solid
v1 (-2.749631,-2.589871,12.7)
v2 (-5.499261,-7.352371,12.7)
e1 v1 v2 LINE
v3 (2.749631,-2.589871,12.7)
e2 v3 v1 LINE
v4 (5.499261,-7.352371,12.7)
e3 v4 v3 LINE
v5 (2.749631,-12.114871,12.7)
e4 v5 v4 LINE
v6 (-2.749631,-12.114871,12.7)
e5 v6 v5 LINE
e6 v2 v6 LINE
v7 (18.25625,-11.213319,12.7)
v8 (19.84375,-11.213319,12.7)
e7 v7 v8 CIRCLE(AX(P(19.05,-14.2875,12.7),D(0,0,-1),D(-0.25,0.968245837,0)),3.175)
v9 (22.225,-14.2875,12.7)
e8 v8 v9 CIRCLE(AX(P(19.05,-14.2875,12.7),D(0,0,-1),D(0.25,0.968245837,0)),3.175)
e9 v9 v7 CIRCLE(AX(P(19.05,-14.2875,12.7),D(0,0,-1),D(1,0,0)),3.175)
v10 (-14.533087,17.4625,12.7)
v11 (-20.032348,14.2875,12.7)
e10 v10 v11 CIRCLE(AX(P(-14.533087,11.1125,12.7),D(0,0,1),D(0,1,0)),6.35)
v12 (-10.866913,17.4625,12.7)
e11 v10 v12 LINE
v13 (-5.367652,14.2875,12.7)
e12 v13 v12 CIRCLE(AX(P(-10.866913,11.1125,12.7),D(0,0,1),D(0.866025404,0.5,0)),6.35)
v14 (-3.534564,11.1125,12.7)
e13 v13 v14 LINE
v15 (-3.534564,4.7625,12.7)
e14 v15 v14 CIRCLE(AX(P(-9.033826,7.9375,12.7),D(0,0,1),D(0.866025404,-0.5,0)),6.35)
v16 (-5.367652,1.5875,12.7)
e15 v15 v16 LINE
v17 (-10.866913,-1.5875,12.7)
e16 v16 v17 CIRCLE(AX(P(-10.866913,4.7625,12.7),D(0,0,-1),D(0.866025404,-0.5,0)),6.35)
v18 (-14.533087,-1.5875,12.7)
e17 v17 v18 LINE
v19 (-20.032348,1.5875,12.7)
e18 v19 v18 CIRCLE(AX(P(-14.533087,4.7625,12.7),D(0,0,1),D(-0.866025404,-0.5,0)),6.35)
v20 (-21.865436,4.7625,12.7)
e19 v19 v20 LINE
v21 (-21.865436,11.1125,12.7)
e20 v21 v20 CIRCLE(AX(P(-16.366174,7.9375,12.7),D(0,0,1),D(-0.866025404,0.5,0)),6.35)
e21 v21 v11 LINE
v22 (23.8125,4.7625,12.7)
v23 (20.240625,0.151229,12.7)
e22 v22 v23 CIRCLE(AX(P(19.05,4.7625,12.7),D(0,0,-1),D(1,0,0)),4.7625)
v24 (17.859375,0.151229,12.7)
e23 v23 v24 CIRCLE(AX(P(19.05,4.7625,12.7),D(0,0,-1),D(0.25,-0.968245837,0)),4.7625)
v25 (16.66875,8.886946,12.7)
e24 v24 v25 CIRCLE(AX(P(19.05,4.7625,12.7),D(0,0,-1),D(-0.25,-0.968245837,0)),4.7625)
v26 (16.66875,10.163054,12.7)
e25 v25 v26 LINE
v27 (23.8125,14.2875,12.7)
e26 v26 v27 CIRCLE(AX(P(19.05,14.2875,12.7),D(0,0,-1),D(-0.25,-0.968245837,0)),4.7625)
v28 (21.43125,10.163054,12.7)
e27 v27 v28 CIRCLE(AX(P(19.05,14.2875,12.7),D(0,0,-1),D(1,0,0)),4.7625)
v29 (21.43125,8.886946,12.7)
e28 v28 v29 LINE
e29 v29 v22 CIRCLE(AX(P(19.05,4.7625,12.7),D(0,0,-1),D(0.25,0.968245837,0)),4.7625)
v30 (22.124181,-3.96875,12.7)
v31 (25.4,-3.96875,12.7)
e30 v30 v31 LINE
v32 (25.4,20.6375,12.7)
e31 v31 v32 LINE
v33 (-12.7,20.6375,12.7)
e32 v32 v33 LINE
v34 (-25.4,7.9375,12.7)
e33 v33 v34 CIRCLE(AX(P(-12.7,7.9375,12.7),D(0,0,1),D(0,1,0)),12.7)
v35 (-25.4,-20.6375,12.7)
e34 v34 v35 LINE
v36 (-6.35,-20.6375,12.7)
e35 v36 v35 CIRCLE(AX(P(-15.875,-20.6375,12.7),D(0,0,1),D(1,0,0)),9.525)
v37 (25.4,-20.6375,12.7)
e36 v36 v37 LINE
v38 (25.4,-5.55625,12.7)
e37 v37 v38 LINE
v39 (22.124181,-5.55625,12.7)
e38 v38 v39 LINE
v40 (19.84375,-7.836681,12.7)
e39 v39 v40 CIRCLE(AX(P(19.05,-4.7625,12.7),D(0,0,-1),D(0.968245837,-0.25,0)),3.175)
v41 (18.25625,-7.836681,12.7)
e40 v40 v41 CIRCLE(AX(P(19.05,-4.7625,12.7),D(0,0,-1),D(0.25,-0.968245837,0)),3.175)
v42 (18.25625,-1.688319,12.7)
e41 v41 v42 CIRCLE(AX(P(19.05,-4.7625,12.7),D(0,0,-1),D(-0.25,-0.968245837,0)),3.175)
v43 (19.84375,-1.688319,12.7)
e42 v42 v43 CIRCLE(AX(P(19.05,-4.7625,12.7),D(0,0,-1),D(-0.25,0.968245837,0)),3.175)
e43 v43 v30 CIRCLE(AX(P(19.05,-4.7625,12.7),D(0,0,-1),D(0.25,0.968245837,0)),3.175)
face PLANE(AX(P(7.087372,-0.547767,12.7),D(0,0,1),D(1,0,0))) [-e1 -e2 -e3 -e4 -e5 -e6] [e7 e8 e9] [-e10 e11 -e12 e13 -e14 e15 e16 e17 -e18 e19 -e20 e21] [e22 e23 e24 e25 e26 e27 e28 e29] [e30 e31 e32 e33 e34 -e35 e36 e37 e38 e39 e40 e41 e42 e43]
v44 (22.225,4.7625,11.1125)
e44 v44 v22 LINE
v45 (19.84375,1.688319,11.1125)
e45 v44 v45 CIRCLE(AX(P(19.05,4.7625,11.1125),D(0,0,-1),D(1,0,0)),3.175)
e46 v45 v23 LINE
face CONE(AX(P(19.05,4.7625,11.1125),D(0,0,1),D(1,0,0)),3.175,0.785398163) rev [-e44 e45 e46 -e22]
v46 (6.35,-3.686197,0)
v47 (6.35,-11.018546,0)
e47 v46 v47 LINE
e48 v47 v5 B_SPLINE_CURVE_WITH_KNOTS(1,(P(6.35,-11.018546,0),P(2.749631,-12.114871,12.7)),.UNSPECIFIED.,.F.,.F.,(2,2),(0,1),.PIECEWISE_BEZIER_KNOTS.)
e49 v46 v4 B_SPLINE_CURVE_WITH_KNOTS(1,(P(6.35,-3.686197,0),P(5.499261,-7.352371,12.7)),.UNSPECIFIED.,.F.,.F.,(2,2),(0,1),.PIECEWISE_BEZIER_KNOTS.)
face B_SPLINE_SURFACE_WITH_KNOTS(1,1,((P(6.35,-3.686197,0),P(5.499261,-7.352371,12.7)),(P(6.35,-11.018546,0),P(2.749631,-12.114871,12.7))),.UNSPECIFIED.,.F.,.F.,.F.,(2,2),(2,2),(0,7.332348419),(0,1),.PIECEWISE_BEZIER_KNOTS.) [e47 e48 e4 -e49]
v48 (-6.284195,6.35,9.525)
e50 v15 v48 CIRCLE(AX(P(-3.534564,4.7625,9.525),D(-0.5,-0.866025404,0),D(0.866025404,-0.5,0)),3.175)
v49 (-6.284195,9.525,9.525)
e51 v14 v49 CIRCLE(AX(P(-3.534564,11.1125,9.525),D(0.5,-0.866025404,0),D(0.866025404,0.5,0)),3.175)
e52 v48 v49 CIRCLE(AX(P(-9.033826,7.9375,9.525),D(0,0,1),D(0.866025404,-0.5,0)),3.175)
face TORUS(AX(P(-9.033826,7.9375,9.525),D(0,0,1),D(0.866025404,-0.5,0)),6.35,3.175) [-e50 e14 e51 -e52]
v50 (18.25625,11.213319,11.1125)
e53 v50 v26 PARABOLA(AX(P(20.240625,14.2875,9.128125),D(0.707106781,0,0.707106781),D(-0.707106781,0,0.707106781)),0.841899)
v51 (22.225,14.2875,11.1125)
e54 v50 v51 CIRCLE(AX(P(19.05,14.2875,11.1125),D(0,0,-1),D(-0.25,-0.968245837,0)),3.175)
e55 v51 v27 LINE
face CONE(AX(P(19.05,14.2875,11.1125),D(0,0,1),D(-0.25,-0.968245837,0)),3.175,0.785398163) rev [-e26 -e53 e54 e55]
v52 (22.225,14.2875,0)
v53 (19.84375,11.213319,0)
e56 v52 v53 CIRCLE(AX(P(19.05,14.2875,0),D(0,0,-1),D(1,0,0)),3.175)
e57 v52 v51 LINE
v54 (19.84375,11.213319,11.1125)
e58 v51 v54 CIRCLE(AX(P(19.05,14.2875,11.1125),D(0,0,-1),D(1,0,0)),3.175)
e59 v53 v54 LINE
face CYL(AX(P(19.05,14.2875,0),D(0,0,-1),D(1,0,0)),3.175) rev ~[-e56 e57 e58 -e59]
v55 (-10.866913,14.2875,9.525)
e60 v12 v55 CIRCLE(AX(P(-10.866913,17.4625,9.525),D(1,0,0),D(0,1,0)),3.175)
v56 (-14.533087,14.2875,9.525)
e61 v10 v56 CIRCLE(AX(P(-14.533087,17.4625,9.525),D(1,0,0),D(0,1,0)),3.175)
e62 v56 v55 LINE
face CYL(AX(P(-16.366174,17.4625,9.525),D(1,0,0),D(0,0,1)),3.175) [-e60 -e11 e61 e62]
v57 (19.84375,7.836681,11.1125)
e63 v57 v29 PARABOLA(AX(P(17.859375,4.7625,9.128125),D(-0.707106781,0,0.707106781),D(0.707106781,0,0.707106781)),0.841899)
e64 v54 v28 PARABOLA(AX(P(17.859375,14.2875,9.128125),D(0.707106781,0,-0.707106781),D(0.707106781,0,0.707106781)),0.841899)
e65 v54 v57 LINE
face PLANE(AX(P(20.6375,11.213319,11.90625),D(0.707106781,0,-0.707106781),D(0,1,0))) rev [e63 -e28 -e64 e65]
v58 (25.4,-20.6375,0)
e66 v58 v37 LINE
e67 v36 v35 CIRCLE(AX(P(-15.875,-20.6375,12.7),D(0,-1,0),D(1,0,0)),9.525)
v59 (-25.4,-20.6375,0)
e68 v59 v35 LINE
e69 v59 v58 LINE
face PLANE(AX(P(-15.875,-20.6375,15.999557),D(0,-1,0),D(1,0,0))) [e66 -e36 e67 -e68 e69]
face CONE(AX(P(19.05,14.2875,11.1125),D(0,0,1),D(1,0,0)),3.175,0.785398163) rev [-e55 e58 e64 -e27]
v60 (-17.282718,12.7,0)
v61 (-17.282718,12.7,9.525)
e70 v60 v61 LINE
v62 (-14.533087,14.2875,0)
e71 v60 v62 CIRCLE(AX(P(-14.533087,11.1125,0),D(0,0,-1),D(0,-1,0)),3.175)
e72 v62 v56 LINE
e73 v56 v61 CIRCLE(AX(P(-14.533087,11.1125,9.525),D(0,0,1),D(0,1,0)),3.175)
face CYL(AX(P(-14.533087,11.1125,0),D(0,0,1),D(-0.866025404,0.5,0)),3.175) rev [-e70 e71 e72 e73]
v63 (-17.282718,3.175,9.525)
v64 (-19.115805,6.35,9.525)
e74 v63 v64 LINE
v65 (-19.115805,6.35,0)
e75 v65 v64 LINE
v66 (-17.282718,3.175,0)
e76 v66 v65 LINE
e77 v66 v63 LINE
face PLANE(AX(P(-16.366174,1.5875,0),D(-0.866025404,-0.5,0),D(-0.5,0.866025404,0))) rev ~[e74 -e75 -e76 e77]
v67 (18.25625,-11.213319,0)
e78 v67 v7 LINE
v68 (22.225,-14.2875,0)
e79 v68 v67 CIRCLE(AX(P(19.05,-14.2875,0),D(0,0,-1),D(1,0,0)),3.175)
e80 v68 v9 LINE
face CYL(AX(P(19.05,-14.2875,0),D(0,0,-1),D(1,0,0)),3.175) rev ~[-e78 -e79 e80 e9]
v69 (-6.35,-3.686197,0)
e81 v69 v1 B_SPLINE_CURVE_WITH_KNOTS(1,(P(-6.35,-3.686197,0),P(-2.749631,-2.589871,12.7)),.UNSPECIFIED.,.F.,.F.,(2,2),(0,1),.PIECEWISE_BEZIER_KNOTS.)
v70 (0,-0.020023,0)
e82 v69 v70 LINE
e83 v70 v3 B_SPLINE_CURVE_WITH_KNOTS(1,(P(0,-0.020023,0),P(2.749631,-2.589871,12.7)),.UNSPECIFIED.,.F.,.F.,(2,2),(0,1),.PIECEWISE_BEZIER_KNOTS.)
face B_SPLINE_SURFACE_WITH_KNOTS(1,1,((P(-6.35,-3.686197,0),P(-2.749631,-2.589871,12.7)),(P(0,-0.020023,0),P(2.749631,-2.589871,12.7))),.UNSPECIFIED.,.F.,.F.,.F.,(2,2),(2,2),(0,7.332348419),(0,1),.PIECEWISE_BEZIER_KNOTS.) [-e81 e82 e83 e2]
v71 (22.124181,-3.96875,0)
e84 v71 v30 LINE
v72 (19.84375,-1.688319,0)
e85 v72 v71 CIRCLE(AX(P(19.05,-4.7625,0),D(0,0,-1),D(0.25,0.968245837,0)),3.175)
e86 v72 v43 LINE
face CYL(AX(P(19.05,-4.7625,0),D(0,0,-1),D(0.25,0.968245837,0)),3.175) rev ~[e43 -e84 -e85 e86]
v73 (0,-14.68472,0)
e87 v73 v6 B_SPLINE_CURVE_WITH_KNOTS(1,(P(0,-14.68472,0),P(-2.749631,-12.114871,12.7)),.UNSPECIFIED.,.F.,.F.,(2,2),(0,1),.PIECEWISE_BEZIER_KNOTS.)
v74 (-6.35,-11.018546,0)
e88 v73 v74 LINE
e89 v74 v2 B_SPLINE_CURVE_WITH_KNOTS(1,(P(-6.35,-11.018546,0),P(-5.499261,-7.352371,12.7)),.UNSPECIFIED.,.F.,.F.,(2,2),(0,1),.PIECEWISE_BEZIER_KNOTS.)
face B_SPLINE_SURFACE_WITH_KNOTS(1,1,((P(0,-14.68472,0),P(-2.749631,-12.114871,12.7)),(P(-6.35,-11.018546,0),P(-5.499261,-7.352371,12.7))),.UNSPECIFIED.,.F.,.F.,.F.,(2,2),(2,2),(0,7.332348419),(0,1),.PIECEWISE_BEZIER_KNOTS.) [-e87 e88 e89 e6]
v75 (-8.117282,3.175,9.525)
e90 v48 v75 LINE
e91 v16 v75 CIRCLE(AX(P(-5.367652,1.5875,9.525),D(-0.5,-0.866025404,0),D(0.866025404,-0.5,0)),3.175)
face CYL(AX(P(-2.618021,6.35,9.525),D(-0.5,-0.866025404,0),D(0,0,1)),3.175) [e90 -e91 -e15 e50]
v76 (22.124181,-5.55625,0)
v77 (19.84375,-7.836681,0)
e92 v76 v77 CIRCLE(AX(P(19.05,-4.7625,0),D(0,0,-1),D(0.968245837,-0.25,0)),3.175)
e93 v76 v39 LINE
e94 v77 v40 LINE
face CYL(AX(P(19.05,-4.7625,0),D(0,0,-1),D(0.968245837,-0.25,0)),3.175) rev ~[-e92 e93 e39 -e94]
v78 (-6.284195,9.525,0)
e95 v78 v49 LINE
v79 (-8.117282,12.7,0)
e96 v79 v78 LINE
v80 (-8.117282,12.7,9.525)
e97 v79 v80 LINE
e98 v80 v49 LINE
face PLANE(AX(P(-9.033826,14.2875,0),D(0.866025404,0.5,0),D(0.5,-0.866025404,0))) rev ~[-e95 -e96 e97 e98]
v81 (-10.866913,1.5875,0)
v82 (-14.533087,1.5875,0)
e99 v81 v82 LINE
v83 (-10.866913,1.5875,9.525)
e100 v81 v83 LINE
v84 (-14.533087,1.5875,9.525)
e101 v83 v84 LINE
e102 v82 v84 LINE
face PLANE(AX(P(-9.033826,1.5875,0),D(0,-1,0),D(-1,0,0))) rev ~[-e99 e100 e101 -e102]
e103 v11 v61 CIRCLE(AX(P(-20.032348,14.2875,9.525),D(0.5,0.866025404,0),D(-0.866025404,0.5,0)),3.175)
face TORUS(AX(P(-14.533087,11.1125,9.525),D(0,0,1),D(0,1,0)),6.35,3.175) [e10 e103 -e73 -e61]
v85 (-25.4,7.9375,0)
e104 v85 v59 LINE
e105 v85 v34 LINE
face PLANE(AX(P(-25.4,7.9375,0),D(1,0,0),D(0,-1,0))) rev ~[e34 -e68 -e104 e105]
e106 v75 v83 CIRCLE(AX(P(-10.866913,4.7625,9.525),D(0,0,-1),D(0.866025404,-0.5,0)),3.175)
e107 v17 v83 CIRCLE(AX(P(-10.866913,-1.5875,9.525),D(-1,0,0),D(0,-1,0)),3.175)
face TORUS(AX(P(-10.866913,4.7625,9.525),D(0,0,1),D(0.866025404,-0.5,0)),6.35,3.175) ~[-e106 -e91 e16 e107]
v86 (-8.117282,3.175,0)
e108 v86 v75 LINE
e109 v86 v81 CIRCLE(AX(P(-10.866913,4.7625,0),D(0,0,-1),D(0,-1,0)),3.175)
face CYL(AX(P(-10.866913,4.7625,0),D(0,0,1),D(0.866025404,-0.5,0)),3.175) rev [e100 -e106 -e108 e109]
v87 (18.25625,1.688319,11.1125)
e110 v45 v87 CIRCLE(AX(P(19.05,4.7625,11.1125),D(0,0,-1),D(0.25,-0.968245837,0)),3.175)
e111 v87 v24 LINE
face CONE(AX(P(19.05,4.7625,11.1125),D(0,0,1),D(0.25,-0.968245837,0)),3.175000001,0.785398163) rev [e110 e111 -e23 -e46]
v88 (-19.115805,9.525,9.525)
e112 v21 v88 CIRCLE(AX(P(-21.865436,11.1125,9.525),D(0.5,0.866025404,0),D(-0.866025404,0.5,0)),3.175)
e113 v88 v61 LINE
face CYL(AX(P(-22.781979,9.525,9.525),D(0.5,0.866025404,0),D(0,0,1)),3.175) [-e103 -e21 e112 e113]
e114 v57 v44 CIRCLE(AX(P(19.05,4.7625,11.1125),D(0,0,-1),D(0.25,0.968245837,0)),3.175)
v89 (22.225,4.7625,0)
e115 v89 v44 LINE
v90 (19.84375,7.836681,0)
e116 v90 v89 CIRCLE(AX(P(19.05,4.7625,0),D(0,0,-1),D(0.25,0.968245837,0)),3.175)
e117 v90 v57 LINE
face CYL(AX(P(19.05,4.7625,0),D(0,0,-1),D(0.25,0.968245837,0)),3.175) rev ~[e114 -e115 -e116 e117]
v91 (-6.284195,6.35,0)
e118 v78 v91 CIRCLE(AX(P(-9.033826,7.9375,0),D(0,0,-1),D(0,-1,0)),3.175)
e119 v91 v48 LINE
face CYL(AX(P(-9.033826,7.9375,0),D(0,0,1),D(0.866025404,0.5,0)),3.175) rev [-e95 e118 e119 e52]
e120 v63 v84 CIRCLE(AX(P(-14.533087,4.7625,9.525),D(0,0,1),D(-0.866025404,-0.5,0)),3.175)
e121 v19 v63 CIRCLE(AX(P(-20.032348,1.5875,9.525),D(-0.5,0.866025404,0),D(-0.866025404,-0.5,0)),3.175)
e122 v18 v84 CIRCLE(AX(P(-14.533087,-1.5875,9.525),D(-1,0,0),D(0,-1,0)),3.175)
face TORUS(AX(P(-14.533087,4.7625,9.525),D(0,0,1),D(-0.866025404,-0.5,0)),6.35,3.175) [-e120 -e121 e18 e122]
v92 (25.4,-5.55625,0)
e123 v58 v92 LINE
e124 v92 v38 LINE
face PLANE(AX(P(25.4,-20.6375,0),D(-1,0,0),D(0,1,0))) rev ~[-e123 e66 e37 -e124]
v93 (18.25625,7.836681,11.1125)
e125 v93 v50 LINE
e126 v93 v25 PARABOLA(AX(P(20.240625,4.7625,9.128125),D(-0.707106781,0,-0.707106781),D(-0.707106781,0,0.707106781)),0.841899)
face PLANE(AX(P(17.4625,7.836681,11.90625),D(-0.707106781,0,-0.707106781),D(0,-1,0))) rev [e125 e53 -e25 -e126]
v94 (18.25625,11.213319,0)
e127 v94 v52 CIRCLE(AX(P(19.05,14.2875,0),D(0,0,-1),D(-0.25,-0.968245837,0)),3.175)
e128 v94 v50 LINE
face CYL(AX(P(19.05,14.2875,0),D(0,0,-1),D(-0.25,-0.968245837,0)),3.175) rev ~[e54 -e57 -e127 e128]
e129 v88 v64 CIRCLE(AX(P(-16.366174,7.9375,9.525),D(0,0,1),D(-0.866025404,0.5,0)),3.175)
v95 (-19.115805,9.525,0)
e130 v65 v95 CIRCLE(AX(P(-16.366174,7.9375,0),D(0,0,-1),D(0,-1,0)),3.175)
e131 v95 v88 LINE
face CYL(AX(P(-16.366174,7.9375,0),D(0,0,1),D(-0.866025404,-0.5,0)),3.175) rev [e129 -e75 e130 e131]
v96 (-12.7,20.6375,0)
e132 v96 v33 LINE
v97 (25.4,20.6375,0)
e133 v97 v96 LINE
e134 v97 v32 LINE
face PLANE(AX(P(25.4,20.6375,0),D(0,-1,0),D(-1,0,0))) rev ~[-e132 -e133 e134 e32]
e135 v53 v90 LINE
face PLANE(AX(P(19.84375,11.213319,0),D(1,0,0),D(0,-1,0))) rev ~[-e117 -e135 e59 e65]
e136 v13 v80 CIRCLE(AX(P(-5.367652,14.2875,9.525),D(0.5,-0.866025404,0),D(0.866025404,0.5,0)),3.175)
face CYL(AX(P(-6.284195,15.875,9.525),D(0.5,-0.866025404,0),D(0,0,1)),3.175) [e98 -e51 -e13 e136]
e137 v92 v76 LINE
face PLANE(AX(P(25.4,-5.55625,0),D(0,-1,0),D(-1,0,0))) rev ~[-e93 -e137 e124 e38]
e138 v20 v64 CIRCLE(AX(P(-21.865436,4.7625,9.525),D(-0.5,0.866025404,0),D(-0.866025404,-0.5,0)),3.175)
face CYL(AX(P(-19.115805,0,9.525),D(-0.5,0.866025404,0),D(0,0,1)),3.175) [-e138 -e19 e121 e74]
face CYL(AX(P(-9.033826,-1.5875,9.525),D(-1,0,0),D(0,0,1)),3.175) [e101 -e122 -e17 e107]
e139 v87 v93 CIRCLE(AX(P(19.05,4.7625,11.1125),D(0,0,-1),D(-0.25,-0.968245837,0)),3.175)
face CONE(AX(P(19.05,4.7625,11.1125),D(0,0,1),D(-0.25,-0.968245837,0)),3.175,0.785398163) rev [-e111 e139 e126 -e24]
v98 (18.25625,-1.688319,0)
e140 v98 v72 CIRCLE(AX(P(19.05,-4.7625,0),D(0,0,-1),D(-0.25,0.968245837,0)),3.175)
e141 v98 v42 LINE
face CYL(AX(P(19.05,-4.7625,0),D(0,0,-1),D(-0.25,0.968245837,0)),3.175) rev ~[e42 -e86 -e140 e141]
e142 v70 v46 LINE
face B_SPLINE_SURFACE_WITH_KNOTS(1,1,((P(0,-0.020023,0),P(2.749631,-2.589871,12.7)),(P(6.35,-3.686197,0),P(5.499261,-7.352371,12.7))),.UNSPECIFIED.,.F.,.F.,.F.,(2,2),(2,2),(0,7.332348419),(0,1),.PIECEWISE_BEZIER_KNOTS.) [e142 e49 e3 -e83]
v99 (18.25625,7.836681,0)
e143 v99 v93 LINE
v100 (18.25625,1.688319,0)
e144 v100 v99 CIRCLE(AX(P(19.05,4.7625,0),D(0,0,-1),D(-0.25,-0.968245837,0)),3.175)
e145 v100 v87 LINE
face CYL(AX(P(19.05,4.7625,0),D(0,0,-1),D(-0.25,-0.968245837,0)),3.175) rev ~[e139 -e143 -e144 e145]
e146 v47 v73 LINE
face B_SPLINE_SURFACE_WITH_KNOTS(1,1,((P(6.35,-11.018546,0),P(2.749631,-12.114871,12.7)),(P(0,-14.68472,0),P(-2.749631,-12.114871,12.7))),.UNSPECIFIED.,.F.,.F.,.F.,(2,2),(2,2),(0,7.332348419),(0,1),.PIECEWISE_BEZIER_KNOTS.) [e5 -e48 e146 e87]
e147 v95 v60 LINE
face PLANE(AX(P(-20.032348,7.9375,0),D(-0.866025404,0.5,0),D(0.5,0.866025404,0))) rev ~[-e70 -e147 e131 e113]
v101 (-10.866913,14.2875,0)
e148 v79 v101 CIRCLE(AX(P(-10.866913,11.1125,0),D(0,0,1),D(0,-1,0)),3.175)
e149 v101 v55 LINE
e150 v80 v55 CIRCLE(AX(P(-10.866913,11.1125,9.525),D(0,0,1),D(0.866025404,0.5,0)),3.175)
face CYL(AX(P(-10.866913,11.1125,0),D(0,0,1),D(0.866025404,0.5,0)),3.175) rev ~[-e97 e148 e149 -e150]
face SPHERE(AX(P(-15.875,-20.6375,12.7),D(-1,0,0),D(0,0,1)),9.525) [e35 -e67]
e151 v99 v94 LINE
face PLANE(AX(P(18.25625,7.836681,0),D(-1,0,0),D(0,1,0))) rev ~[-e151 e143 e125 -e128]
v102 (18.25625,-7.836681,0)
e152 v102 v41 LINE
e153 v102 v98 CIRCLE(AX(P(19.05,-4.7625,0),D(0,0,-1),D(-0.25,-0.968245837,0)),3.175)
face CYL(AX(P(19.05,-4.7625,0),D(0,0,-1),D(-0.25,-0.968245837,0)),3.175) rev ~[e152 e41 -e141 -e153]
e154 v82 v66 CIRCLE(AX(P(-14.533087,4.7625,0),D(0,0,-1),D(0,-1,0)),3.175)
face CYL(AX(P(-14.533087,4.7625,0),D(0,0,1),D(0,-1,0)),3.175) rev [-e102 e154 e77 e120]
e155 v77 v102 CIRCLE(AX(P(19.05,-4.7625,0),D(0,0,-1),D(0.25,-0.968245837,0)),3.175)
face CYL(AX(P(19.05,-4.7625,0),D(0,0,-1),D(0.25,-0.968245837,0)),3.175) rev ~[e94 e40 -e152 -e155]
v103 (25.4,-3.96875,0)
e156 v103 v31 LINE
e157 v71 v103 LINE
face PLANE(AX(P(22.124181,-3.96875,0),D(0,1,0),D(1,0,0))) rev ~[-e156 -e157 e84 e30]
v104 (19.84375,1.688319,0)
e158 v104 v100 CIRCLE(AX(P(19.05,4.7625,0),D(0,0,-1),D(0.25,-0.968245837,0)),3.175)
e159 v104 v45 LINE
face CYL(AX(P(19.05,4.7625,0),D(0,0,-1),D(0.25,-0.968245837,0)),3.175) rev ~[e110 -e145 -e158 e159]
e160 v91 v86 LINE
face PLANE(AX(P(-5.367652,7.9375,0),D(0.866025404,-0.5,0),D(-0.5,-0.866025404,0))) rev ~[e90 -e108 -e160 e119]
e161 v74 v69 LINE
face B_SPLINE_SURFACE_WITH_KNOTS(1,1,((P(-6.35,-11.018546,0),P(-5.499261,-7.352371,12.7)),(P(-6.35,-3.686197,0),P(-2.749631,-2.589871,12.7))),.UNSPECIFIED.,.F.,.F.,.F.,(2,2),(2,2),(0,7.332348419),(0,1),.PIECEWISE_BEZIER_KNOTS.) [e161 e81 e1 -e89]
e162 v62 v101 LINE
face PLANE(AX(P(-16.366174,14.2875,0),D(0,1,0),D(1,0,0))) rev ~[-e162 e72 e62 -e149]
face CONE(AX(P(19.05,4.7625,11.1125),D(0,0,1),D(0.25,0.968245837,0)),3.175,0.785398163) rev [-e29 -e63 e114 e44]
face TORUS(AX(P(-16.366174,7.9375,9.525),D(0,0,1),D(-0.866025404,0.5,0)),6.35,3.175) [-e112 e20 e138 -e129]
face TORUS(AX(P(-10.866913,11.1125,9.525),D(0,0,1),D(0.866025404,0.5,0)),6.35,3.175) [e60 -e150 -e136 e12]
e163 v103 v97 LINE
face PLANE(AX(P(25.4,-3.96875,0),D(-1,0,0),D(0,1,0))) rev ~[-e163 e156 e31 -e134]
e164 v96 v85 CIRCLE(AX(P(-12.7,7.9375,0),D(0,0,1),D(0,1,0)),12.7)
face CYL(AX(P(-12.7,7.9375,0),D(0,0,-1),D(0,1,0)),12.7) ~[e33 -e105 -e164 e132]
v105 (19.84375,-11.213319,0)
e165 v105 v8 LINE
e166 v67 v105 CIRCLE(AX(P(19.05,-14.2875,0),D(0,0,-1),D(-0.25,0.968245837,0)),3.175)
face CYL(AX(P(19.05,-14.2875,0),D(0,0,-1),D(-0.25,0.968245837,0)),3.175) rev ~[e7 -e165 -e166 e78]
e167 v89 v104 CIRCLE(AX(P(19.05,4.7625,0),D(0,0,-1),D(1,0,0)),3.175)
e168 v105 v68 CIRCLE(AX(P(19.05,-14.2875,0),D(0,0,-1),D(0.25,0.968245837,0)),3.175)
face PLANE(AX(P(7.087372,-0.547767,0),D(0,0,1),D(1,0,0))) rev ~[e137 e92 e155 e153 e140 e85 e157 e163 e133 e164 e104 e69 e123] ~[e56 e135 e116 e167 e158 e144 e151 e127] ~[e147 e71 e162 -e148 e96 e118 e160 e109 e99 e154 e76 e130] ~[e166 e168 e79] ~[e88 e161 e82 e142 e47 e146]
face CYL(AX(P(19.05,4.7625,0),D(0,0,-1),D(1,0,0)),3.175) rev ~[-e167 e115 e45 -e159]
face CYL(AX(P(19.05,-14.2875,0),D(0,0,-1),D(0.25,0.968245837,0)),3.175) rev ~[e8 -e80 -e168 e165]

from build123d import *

# Parameters (mm, degrees)
F1_DEPTH = 12.7
F2_SIZE  = 1.5875
F3_R     = 3.175
F8_ANGLE = 90


with BuildPart() as f1:
    # F0 (on Top) → F1 (new body)
    with BuildSketch(Plane.XY):
        with BuildLine():
            Line((25.4, 20.6375), (-12.7, 20.6375))
            ThreePointArc((-12.7, 20.6375), (-21.6802561211, 16.9177561211), (-25.4, 7.9375))
            Line((-25.4, 7.9375), (-25.4, -20.6375))
            Line((-25.4, -20.6375), (25.4, -20.6375))
            Line((25.4, -20.6375), (25.4, -5.55625))
            Line((25.4, -5.55625), (22.1241805311, -5.55625))
            ThreePointArc((22.1241805311, -5.55625), (21.2950640303, -7.0075640303), (19.84375, -7.8366805311))
            Line((19.84375, -7.8366805311), (19.84375, -11.2133194689))
            ThreePointArc((19.84375, -11.2133194689), (21.5600578928, -12.3432175167), (22.225, -14.2875))
            ThreePointArc((22.225, -14.2875), (17.1057175167, -16.7975578928), (18.25625, -11.2133194689))
            Line((18.25625, -11.2133194689), (18.25625, -7.8366805311))
            ThreePointArc((18.25625, -7.8366805311), (15.875, -4.7625), (18.25625, -1.6883194689))
            Line((18.25625, -1.6883194689), (18.25625, 1.6883194689))
            ThreePointArc((18.25625, 1.6883194689), (15.875, 4.7625), (18.25625, 7.8366805311))
            Line((18.25625, 7.8366805311), (18.25625, 11.2133194689))
            ThreePointArc((18.25625, 11.2133194689), (17.1057175167, 16.7975578928), (22.225, 14.2875))
            ThreePointArc((22.225, 14.2875), (21.5600578928, 12.3432175167), (19.84375, 11.2133194689))
            Line((19.84375, 11.2133194689), (19.84375, 7.8366805311))
            ThreePointArc((19.84375, 7.8366805311), (21.5600578928, 6.7067824833), (22.225, 4.7625))
            ThreePointArc((22.225, 4.7625), (21.5600578928, 2.8182175167), (19.84375, 1.6883194689))
            Line((19.84375, 1.6883194689), (19.84375, -1.6883194689))
            ThreePointArc((19.84375, -1.6883194689), (21.2950640303, -2.5174359697), (22.1241805311, -3.96875))
            Line((22.1241805311, -3.96875), (25.4, -3.96875))
            Line((25.4, -3.96875), (25.4, 20.6375))
        make_face()
        Polygon((-5.3676515813, 7.9375), (-9.0338257906, 1.5875), (-16.3661742094, 1.5875), (-20.0323484187, 7.9375), (-16.3661742094, 14.2875), (-9.0338257906, 14.2875), align=None, mode=Mode.SUBTRACT)
        with BuildLine():
            Line((19.84375, -11.2133194689), (19.84375, -7.8366805311))
            ThreePointArc((19.84375, -7.8366805311), (19.05, -7.9375), (18.25625, -7.8366805311))
            Line((18.25625, -7.8366805311), (18.25625, -11.2133194689))
            ThreePointArc((18.25625, -11.2133194689), (19.05, -11.1125), (19.84375, -11.2133194689))
        make_face()
        with BuildLine():
            ThreePointArc((18.25625, -1.6883194689), (19.05, -1.5875), (19.84375, -1.6883194689))
            Line((19.84375, -1.6883194689), (19.84375, 1.6883194689))
            ThreePointArc((19.84375, 1.6883194689), (19.05, 1.5875), (18.25625, 1.6883194689))
            Line((18.25625, 1.6883194689), (18.25625, -1.6883194689))
        make_face()
    extrude(amount=F1_DEPTH)

    # F2
    f2_edges = [f1.edges().sort_by_distance(p)[0] for p in [
        (19.05, 1.5875, 12.7),
        (19.05, 17.4625, 12.7),
        (18.25625, 9.525, 12.7),
        (19.84375, 9.525, 12.7),
    ]]
    chamfer(f2_edges, length=F2_SIZE)

    # F3
    f3_edges = [f1.edges().sort_by_distance(p)[0] for p in [
        (-7.200739, 4.7625, 12.7),
        (-7.200739, 11.1125, 12.7),
        (-12.7, 14.2875, 12.7),
        (-18.199261, 11.1125, 12.7),
        (-18.199261, 4.7625, 12.7),
        (-12.7, 1.5875, 12.7),
        (-16.366174, 14.2875, 6.35),
        (-20.032348, 7.9375, 6.35),
        (-16.366174, 1.5875, 6.35),
        (-9.033826, 1.5875, 6.35),
        (-5.367652, 7.9375, 6.35),
        (-9.033826, 14.2875, 6.35),
    ]]
    fillet(f3_edges, radius=F3_R)

    # F5 (on face) → F6 section 0
    with BuildSketch(Plane(origin=(0, 0, 0), x_dir=(1, 0, 0), z_dir=(0, 0, -1))):
        Polygon((-6.35, 11.0185455743), (-6.35, 3.6861971556), (0, 0.0200229463), (6.35, 3.6861971556), (6.35, 11.0185455743), (0, 14.6847197837), align=None)
    # F4 (on face) → F6 section 1
    with BuildSketch(Plane.XY.offset(12.7)):
        Polygon((2.749630657, -2.589871365), (-2.749630657, -2.589871365), (-5.499261314, -7.352371365), (-2.749630657, -12.114871365), (2.749630657, -12.114871365), (5.499261314, -7.352371365), align=None)
    loft(mode=Mode.SUBTRACT)

    # F7 (on face) → F8 (revolve)
    with BuildSketch(Plane.XZ.offset(20.6375)):
        with BuildLine():
            Line((-25.4, 12.7), (-6.35, 12.7))
            ThreePointArc((-6.35, 12.7), (-15.875, 22.225), (-25.4, 12.7))
        make_face()
    revolve(axis=Axis((-15.875, -20.6375, 12.7), (-1, 0, 0)), revolution_arc=F8_ANGLE)


solid = f1.part
